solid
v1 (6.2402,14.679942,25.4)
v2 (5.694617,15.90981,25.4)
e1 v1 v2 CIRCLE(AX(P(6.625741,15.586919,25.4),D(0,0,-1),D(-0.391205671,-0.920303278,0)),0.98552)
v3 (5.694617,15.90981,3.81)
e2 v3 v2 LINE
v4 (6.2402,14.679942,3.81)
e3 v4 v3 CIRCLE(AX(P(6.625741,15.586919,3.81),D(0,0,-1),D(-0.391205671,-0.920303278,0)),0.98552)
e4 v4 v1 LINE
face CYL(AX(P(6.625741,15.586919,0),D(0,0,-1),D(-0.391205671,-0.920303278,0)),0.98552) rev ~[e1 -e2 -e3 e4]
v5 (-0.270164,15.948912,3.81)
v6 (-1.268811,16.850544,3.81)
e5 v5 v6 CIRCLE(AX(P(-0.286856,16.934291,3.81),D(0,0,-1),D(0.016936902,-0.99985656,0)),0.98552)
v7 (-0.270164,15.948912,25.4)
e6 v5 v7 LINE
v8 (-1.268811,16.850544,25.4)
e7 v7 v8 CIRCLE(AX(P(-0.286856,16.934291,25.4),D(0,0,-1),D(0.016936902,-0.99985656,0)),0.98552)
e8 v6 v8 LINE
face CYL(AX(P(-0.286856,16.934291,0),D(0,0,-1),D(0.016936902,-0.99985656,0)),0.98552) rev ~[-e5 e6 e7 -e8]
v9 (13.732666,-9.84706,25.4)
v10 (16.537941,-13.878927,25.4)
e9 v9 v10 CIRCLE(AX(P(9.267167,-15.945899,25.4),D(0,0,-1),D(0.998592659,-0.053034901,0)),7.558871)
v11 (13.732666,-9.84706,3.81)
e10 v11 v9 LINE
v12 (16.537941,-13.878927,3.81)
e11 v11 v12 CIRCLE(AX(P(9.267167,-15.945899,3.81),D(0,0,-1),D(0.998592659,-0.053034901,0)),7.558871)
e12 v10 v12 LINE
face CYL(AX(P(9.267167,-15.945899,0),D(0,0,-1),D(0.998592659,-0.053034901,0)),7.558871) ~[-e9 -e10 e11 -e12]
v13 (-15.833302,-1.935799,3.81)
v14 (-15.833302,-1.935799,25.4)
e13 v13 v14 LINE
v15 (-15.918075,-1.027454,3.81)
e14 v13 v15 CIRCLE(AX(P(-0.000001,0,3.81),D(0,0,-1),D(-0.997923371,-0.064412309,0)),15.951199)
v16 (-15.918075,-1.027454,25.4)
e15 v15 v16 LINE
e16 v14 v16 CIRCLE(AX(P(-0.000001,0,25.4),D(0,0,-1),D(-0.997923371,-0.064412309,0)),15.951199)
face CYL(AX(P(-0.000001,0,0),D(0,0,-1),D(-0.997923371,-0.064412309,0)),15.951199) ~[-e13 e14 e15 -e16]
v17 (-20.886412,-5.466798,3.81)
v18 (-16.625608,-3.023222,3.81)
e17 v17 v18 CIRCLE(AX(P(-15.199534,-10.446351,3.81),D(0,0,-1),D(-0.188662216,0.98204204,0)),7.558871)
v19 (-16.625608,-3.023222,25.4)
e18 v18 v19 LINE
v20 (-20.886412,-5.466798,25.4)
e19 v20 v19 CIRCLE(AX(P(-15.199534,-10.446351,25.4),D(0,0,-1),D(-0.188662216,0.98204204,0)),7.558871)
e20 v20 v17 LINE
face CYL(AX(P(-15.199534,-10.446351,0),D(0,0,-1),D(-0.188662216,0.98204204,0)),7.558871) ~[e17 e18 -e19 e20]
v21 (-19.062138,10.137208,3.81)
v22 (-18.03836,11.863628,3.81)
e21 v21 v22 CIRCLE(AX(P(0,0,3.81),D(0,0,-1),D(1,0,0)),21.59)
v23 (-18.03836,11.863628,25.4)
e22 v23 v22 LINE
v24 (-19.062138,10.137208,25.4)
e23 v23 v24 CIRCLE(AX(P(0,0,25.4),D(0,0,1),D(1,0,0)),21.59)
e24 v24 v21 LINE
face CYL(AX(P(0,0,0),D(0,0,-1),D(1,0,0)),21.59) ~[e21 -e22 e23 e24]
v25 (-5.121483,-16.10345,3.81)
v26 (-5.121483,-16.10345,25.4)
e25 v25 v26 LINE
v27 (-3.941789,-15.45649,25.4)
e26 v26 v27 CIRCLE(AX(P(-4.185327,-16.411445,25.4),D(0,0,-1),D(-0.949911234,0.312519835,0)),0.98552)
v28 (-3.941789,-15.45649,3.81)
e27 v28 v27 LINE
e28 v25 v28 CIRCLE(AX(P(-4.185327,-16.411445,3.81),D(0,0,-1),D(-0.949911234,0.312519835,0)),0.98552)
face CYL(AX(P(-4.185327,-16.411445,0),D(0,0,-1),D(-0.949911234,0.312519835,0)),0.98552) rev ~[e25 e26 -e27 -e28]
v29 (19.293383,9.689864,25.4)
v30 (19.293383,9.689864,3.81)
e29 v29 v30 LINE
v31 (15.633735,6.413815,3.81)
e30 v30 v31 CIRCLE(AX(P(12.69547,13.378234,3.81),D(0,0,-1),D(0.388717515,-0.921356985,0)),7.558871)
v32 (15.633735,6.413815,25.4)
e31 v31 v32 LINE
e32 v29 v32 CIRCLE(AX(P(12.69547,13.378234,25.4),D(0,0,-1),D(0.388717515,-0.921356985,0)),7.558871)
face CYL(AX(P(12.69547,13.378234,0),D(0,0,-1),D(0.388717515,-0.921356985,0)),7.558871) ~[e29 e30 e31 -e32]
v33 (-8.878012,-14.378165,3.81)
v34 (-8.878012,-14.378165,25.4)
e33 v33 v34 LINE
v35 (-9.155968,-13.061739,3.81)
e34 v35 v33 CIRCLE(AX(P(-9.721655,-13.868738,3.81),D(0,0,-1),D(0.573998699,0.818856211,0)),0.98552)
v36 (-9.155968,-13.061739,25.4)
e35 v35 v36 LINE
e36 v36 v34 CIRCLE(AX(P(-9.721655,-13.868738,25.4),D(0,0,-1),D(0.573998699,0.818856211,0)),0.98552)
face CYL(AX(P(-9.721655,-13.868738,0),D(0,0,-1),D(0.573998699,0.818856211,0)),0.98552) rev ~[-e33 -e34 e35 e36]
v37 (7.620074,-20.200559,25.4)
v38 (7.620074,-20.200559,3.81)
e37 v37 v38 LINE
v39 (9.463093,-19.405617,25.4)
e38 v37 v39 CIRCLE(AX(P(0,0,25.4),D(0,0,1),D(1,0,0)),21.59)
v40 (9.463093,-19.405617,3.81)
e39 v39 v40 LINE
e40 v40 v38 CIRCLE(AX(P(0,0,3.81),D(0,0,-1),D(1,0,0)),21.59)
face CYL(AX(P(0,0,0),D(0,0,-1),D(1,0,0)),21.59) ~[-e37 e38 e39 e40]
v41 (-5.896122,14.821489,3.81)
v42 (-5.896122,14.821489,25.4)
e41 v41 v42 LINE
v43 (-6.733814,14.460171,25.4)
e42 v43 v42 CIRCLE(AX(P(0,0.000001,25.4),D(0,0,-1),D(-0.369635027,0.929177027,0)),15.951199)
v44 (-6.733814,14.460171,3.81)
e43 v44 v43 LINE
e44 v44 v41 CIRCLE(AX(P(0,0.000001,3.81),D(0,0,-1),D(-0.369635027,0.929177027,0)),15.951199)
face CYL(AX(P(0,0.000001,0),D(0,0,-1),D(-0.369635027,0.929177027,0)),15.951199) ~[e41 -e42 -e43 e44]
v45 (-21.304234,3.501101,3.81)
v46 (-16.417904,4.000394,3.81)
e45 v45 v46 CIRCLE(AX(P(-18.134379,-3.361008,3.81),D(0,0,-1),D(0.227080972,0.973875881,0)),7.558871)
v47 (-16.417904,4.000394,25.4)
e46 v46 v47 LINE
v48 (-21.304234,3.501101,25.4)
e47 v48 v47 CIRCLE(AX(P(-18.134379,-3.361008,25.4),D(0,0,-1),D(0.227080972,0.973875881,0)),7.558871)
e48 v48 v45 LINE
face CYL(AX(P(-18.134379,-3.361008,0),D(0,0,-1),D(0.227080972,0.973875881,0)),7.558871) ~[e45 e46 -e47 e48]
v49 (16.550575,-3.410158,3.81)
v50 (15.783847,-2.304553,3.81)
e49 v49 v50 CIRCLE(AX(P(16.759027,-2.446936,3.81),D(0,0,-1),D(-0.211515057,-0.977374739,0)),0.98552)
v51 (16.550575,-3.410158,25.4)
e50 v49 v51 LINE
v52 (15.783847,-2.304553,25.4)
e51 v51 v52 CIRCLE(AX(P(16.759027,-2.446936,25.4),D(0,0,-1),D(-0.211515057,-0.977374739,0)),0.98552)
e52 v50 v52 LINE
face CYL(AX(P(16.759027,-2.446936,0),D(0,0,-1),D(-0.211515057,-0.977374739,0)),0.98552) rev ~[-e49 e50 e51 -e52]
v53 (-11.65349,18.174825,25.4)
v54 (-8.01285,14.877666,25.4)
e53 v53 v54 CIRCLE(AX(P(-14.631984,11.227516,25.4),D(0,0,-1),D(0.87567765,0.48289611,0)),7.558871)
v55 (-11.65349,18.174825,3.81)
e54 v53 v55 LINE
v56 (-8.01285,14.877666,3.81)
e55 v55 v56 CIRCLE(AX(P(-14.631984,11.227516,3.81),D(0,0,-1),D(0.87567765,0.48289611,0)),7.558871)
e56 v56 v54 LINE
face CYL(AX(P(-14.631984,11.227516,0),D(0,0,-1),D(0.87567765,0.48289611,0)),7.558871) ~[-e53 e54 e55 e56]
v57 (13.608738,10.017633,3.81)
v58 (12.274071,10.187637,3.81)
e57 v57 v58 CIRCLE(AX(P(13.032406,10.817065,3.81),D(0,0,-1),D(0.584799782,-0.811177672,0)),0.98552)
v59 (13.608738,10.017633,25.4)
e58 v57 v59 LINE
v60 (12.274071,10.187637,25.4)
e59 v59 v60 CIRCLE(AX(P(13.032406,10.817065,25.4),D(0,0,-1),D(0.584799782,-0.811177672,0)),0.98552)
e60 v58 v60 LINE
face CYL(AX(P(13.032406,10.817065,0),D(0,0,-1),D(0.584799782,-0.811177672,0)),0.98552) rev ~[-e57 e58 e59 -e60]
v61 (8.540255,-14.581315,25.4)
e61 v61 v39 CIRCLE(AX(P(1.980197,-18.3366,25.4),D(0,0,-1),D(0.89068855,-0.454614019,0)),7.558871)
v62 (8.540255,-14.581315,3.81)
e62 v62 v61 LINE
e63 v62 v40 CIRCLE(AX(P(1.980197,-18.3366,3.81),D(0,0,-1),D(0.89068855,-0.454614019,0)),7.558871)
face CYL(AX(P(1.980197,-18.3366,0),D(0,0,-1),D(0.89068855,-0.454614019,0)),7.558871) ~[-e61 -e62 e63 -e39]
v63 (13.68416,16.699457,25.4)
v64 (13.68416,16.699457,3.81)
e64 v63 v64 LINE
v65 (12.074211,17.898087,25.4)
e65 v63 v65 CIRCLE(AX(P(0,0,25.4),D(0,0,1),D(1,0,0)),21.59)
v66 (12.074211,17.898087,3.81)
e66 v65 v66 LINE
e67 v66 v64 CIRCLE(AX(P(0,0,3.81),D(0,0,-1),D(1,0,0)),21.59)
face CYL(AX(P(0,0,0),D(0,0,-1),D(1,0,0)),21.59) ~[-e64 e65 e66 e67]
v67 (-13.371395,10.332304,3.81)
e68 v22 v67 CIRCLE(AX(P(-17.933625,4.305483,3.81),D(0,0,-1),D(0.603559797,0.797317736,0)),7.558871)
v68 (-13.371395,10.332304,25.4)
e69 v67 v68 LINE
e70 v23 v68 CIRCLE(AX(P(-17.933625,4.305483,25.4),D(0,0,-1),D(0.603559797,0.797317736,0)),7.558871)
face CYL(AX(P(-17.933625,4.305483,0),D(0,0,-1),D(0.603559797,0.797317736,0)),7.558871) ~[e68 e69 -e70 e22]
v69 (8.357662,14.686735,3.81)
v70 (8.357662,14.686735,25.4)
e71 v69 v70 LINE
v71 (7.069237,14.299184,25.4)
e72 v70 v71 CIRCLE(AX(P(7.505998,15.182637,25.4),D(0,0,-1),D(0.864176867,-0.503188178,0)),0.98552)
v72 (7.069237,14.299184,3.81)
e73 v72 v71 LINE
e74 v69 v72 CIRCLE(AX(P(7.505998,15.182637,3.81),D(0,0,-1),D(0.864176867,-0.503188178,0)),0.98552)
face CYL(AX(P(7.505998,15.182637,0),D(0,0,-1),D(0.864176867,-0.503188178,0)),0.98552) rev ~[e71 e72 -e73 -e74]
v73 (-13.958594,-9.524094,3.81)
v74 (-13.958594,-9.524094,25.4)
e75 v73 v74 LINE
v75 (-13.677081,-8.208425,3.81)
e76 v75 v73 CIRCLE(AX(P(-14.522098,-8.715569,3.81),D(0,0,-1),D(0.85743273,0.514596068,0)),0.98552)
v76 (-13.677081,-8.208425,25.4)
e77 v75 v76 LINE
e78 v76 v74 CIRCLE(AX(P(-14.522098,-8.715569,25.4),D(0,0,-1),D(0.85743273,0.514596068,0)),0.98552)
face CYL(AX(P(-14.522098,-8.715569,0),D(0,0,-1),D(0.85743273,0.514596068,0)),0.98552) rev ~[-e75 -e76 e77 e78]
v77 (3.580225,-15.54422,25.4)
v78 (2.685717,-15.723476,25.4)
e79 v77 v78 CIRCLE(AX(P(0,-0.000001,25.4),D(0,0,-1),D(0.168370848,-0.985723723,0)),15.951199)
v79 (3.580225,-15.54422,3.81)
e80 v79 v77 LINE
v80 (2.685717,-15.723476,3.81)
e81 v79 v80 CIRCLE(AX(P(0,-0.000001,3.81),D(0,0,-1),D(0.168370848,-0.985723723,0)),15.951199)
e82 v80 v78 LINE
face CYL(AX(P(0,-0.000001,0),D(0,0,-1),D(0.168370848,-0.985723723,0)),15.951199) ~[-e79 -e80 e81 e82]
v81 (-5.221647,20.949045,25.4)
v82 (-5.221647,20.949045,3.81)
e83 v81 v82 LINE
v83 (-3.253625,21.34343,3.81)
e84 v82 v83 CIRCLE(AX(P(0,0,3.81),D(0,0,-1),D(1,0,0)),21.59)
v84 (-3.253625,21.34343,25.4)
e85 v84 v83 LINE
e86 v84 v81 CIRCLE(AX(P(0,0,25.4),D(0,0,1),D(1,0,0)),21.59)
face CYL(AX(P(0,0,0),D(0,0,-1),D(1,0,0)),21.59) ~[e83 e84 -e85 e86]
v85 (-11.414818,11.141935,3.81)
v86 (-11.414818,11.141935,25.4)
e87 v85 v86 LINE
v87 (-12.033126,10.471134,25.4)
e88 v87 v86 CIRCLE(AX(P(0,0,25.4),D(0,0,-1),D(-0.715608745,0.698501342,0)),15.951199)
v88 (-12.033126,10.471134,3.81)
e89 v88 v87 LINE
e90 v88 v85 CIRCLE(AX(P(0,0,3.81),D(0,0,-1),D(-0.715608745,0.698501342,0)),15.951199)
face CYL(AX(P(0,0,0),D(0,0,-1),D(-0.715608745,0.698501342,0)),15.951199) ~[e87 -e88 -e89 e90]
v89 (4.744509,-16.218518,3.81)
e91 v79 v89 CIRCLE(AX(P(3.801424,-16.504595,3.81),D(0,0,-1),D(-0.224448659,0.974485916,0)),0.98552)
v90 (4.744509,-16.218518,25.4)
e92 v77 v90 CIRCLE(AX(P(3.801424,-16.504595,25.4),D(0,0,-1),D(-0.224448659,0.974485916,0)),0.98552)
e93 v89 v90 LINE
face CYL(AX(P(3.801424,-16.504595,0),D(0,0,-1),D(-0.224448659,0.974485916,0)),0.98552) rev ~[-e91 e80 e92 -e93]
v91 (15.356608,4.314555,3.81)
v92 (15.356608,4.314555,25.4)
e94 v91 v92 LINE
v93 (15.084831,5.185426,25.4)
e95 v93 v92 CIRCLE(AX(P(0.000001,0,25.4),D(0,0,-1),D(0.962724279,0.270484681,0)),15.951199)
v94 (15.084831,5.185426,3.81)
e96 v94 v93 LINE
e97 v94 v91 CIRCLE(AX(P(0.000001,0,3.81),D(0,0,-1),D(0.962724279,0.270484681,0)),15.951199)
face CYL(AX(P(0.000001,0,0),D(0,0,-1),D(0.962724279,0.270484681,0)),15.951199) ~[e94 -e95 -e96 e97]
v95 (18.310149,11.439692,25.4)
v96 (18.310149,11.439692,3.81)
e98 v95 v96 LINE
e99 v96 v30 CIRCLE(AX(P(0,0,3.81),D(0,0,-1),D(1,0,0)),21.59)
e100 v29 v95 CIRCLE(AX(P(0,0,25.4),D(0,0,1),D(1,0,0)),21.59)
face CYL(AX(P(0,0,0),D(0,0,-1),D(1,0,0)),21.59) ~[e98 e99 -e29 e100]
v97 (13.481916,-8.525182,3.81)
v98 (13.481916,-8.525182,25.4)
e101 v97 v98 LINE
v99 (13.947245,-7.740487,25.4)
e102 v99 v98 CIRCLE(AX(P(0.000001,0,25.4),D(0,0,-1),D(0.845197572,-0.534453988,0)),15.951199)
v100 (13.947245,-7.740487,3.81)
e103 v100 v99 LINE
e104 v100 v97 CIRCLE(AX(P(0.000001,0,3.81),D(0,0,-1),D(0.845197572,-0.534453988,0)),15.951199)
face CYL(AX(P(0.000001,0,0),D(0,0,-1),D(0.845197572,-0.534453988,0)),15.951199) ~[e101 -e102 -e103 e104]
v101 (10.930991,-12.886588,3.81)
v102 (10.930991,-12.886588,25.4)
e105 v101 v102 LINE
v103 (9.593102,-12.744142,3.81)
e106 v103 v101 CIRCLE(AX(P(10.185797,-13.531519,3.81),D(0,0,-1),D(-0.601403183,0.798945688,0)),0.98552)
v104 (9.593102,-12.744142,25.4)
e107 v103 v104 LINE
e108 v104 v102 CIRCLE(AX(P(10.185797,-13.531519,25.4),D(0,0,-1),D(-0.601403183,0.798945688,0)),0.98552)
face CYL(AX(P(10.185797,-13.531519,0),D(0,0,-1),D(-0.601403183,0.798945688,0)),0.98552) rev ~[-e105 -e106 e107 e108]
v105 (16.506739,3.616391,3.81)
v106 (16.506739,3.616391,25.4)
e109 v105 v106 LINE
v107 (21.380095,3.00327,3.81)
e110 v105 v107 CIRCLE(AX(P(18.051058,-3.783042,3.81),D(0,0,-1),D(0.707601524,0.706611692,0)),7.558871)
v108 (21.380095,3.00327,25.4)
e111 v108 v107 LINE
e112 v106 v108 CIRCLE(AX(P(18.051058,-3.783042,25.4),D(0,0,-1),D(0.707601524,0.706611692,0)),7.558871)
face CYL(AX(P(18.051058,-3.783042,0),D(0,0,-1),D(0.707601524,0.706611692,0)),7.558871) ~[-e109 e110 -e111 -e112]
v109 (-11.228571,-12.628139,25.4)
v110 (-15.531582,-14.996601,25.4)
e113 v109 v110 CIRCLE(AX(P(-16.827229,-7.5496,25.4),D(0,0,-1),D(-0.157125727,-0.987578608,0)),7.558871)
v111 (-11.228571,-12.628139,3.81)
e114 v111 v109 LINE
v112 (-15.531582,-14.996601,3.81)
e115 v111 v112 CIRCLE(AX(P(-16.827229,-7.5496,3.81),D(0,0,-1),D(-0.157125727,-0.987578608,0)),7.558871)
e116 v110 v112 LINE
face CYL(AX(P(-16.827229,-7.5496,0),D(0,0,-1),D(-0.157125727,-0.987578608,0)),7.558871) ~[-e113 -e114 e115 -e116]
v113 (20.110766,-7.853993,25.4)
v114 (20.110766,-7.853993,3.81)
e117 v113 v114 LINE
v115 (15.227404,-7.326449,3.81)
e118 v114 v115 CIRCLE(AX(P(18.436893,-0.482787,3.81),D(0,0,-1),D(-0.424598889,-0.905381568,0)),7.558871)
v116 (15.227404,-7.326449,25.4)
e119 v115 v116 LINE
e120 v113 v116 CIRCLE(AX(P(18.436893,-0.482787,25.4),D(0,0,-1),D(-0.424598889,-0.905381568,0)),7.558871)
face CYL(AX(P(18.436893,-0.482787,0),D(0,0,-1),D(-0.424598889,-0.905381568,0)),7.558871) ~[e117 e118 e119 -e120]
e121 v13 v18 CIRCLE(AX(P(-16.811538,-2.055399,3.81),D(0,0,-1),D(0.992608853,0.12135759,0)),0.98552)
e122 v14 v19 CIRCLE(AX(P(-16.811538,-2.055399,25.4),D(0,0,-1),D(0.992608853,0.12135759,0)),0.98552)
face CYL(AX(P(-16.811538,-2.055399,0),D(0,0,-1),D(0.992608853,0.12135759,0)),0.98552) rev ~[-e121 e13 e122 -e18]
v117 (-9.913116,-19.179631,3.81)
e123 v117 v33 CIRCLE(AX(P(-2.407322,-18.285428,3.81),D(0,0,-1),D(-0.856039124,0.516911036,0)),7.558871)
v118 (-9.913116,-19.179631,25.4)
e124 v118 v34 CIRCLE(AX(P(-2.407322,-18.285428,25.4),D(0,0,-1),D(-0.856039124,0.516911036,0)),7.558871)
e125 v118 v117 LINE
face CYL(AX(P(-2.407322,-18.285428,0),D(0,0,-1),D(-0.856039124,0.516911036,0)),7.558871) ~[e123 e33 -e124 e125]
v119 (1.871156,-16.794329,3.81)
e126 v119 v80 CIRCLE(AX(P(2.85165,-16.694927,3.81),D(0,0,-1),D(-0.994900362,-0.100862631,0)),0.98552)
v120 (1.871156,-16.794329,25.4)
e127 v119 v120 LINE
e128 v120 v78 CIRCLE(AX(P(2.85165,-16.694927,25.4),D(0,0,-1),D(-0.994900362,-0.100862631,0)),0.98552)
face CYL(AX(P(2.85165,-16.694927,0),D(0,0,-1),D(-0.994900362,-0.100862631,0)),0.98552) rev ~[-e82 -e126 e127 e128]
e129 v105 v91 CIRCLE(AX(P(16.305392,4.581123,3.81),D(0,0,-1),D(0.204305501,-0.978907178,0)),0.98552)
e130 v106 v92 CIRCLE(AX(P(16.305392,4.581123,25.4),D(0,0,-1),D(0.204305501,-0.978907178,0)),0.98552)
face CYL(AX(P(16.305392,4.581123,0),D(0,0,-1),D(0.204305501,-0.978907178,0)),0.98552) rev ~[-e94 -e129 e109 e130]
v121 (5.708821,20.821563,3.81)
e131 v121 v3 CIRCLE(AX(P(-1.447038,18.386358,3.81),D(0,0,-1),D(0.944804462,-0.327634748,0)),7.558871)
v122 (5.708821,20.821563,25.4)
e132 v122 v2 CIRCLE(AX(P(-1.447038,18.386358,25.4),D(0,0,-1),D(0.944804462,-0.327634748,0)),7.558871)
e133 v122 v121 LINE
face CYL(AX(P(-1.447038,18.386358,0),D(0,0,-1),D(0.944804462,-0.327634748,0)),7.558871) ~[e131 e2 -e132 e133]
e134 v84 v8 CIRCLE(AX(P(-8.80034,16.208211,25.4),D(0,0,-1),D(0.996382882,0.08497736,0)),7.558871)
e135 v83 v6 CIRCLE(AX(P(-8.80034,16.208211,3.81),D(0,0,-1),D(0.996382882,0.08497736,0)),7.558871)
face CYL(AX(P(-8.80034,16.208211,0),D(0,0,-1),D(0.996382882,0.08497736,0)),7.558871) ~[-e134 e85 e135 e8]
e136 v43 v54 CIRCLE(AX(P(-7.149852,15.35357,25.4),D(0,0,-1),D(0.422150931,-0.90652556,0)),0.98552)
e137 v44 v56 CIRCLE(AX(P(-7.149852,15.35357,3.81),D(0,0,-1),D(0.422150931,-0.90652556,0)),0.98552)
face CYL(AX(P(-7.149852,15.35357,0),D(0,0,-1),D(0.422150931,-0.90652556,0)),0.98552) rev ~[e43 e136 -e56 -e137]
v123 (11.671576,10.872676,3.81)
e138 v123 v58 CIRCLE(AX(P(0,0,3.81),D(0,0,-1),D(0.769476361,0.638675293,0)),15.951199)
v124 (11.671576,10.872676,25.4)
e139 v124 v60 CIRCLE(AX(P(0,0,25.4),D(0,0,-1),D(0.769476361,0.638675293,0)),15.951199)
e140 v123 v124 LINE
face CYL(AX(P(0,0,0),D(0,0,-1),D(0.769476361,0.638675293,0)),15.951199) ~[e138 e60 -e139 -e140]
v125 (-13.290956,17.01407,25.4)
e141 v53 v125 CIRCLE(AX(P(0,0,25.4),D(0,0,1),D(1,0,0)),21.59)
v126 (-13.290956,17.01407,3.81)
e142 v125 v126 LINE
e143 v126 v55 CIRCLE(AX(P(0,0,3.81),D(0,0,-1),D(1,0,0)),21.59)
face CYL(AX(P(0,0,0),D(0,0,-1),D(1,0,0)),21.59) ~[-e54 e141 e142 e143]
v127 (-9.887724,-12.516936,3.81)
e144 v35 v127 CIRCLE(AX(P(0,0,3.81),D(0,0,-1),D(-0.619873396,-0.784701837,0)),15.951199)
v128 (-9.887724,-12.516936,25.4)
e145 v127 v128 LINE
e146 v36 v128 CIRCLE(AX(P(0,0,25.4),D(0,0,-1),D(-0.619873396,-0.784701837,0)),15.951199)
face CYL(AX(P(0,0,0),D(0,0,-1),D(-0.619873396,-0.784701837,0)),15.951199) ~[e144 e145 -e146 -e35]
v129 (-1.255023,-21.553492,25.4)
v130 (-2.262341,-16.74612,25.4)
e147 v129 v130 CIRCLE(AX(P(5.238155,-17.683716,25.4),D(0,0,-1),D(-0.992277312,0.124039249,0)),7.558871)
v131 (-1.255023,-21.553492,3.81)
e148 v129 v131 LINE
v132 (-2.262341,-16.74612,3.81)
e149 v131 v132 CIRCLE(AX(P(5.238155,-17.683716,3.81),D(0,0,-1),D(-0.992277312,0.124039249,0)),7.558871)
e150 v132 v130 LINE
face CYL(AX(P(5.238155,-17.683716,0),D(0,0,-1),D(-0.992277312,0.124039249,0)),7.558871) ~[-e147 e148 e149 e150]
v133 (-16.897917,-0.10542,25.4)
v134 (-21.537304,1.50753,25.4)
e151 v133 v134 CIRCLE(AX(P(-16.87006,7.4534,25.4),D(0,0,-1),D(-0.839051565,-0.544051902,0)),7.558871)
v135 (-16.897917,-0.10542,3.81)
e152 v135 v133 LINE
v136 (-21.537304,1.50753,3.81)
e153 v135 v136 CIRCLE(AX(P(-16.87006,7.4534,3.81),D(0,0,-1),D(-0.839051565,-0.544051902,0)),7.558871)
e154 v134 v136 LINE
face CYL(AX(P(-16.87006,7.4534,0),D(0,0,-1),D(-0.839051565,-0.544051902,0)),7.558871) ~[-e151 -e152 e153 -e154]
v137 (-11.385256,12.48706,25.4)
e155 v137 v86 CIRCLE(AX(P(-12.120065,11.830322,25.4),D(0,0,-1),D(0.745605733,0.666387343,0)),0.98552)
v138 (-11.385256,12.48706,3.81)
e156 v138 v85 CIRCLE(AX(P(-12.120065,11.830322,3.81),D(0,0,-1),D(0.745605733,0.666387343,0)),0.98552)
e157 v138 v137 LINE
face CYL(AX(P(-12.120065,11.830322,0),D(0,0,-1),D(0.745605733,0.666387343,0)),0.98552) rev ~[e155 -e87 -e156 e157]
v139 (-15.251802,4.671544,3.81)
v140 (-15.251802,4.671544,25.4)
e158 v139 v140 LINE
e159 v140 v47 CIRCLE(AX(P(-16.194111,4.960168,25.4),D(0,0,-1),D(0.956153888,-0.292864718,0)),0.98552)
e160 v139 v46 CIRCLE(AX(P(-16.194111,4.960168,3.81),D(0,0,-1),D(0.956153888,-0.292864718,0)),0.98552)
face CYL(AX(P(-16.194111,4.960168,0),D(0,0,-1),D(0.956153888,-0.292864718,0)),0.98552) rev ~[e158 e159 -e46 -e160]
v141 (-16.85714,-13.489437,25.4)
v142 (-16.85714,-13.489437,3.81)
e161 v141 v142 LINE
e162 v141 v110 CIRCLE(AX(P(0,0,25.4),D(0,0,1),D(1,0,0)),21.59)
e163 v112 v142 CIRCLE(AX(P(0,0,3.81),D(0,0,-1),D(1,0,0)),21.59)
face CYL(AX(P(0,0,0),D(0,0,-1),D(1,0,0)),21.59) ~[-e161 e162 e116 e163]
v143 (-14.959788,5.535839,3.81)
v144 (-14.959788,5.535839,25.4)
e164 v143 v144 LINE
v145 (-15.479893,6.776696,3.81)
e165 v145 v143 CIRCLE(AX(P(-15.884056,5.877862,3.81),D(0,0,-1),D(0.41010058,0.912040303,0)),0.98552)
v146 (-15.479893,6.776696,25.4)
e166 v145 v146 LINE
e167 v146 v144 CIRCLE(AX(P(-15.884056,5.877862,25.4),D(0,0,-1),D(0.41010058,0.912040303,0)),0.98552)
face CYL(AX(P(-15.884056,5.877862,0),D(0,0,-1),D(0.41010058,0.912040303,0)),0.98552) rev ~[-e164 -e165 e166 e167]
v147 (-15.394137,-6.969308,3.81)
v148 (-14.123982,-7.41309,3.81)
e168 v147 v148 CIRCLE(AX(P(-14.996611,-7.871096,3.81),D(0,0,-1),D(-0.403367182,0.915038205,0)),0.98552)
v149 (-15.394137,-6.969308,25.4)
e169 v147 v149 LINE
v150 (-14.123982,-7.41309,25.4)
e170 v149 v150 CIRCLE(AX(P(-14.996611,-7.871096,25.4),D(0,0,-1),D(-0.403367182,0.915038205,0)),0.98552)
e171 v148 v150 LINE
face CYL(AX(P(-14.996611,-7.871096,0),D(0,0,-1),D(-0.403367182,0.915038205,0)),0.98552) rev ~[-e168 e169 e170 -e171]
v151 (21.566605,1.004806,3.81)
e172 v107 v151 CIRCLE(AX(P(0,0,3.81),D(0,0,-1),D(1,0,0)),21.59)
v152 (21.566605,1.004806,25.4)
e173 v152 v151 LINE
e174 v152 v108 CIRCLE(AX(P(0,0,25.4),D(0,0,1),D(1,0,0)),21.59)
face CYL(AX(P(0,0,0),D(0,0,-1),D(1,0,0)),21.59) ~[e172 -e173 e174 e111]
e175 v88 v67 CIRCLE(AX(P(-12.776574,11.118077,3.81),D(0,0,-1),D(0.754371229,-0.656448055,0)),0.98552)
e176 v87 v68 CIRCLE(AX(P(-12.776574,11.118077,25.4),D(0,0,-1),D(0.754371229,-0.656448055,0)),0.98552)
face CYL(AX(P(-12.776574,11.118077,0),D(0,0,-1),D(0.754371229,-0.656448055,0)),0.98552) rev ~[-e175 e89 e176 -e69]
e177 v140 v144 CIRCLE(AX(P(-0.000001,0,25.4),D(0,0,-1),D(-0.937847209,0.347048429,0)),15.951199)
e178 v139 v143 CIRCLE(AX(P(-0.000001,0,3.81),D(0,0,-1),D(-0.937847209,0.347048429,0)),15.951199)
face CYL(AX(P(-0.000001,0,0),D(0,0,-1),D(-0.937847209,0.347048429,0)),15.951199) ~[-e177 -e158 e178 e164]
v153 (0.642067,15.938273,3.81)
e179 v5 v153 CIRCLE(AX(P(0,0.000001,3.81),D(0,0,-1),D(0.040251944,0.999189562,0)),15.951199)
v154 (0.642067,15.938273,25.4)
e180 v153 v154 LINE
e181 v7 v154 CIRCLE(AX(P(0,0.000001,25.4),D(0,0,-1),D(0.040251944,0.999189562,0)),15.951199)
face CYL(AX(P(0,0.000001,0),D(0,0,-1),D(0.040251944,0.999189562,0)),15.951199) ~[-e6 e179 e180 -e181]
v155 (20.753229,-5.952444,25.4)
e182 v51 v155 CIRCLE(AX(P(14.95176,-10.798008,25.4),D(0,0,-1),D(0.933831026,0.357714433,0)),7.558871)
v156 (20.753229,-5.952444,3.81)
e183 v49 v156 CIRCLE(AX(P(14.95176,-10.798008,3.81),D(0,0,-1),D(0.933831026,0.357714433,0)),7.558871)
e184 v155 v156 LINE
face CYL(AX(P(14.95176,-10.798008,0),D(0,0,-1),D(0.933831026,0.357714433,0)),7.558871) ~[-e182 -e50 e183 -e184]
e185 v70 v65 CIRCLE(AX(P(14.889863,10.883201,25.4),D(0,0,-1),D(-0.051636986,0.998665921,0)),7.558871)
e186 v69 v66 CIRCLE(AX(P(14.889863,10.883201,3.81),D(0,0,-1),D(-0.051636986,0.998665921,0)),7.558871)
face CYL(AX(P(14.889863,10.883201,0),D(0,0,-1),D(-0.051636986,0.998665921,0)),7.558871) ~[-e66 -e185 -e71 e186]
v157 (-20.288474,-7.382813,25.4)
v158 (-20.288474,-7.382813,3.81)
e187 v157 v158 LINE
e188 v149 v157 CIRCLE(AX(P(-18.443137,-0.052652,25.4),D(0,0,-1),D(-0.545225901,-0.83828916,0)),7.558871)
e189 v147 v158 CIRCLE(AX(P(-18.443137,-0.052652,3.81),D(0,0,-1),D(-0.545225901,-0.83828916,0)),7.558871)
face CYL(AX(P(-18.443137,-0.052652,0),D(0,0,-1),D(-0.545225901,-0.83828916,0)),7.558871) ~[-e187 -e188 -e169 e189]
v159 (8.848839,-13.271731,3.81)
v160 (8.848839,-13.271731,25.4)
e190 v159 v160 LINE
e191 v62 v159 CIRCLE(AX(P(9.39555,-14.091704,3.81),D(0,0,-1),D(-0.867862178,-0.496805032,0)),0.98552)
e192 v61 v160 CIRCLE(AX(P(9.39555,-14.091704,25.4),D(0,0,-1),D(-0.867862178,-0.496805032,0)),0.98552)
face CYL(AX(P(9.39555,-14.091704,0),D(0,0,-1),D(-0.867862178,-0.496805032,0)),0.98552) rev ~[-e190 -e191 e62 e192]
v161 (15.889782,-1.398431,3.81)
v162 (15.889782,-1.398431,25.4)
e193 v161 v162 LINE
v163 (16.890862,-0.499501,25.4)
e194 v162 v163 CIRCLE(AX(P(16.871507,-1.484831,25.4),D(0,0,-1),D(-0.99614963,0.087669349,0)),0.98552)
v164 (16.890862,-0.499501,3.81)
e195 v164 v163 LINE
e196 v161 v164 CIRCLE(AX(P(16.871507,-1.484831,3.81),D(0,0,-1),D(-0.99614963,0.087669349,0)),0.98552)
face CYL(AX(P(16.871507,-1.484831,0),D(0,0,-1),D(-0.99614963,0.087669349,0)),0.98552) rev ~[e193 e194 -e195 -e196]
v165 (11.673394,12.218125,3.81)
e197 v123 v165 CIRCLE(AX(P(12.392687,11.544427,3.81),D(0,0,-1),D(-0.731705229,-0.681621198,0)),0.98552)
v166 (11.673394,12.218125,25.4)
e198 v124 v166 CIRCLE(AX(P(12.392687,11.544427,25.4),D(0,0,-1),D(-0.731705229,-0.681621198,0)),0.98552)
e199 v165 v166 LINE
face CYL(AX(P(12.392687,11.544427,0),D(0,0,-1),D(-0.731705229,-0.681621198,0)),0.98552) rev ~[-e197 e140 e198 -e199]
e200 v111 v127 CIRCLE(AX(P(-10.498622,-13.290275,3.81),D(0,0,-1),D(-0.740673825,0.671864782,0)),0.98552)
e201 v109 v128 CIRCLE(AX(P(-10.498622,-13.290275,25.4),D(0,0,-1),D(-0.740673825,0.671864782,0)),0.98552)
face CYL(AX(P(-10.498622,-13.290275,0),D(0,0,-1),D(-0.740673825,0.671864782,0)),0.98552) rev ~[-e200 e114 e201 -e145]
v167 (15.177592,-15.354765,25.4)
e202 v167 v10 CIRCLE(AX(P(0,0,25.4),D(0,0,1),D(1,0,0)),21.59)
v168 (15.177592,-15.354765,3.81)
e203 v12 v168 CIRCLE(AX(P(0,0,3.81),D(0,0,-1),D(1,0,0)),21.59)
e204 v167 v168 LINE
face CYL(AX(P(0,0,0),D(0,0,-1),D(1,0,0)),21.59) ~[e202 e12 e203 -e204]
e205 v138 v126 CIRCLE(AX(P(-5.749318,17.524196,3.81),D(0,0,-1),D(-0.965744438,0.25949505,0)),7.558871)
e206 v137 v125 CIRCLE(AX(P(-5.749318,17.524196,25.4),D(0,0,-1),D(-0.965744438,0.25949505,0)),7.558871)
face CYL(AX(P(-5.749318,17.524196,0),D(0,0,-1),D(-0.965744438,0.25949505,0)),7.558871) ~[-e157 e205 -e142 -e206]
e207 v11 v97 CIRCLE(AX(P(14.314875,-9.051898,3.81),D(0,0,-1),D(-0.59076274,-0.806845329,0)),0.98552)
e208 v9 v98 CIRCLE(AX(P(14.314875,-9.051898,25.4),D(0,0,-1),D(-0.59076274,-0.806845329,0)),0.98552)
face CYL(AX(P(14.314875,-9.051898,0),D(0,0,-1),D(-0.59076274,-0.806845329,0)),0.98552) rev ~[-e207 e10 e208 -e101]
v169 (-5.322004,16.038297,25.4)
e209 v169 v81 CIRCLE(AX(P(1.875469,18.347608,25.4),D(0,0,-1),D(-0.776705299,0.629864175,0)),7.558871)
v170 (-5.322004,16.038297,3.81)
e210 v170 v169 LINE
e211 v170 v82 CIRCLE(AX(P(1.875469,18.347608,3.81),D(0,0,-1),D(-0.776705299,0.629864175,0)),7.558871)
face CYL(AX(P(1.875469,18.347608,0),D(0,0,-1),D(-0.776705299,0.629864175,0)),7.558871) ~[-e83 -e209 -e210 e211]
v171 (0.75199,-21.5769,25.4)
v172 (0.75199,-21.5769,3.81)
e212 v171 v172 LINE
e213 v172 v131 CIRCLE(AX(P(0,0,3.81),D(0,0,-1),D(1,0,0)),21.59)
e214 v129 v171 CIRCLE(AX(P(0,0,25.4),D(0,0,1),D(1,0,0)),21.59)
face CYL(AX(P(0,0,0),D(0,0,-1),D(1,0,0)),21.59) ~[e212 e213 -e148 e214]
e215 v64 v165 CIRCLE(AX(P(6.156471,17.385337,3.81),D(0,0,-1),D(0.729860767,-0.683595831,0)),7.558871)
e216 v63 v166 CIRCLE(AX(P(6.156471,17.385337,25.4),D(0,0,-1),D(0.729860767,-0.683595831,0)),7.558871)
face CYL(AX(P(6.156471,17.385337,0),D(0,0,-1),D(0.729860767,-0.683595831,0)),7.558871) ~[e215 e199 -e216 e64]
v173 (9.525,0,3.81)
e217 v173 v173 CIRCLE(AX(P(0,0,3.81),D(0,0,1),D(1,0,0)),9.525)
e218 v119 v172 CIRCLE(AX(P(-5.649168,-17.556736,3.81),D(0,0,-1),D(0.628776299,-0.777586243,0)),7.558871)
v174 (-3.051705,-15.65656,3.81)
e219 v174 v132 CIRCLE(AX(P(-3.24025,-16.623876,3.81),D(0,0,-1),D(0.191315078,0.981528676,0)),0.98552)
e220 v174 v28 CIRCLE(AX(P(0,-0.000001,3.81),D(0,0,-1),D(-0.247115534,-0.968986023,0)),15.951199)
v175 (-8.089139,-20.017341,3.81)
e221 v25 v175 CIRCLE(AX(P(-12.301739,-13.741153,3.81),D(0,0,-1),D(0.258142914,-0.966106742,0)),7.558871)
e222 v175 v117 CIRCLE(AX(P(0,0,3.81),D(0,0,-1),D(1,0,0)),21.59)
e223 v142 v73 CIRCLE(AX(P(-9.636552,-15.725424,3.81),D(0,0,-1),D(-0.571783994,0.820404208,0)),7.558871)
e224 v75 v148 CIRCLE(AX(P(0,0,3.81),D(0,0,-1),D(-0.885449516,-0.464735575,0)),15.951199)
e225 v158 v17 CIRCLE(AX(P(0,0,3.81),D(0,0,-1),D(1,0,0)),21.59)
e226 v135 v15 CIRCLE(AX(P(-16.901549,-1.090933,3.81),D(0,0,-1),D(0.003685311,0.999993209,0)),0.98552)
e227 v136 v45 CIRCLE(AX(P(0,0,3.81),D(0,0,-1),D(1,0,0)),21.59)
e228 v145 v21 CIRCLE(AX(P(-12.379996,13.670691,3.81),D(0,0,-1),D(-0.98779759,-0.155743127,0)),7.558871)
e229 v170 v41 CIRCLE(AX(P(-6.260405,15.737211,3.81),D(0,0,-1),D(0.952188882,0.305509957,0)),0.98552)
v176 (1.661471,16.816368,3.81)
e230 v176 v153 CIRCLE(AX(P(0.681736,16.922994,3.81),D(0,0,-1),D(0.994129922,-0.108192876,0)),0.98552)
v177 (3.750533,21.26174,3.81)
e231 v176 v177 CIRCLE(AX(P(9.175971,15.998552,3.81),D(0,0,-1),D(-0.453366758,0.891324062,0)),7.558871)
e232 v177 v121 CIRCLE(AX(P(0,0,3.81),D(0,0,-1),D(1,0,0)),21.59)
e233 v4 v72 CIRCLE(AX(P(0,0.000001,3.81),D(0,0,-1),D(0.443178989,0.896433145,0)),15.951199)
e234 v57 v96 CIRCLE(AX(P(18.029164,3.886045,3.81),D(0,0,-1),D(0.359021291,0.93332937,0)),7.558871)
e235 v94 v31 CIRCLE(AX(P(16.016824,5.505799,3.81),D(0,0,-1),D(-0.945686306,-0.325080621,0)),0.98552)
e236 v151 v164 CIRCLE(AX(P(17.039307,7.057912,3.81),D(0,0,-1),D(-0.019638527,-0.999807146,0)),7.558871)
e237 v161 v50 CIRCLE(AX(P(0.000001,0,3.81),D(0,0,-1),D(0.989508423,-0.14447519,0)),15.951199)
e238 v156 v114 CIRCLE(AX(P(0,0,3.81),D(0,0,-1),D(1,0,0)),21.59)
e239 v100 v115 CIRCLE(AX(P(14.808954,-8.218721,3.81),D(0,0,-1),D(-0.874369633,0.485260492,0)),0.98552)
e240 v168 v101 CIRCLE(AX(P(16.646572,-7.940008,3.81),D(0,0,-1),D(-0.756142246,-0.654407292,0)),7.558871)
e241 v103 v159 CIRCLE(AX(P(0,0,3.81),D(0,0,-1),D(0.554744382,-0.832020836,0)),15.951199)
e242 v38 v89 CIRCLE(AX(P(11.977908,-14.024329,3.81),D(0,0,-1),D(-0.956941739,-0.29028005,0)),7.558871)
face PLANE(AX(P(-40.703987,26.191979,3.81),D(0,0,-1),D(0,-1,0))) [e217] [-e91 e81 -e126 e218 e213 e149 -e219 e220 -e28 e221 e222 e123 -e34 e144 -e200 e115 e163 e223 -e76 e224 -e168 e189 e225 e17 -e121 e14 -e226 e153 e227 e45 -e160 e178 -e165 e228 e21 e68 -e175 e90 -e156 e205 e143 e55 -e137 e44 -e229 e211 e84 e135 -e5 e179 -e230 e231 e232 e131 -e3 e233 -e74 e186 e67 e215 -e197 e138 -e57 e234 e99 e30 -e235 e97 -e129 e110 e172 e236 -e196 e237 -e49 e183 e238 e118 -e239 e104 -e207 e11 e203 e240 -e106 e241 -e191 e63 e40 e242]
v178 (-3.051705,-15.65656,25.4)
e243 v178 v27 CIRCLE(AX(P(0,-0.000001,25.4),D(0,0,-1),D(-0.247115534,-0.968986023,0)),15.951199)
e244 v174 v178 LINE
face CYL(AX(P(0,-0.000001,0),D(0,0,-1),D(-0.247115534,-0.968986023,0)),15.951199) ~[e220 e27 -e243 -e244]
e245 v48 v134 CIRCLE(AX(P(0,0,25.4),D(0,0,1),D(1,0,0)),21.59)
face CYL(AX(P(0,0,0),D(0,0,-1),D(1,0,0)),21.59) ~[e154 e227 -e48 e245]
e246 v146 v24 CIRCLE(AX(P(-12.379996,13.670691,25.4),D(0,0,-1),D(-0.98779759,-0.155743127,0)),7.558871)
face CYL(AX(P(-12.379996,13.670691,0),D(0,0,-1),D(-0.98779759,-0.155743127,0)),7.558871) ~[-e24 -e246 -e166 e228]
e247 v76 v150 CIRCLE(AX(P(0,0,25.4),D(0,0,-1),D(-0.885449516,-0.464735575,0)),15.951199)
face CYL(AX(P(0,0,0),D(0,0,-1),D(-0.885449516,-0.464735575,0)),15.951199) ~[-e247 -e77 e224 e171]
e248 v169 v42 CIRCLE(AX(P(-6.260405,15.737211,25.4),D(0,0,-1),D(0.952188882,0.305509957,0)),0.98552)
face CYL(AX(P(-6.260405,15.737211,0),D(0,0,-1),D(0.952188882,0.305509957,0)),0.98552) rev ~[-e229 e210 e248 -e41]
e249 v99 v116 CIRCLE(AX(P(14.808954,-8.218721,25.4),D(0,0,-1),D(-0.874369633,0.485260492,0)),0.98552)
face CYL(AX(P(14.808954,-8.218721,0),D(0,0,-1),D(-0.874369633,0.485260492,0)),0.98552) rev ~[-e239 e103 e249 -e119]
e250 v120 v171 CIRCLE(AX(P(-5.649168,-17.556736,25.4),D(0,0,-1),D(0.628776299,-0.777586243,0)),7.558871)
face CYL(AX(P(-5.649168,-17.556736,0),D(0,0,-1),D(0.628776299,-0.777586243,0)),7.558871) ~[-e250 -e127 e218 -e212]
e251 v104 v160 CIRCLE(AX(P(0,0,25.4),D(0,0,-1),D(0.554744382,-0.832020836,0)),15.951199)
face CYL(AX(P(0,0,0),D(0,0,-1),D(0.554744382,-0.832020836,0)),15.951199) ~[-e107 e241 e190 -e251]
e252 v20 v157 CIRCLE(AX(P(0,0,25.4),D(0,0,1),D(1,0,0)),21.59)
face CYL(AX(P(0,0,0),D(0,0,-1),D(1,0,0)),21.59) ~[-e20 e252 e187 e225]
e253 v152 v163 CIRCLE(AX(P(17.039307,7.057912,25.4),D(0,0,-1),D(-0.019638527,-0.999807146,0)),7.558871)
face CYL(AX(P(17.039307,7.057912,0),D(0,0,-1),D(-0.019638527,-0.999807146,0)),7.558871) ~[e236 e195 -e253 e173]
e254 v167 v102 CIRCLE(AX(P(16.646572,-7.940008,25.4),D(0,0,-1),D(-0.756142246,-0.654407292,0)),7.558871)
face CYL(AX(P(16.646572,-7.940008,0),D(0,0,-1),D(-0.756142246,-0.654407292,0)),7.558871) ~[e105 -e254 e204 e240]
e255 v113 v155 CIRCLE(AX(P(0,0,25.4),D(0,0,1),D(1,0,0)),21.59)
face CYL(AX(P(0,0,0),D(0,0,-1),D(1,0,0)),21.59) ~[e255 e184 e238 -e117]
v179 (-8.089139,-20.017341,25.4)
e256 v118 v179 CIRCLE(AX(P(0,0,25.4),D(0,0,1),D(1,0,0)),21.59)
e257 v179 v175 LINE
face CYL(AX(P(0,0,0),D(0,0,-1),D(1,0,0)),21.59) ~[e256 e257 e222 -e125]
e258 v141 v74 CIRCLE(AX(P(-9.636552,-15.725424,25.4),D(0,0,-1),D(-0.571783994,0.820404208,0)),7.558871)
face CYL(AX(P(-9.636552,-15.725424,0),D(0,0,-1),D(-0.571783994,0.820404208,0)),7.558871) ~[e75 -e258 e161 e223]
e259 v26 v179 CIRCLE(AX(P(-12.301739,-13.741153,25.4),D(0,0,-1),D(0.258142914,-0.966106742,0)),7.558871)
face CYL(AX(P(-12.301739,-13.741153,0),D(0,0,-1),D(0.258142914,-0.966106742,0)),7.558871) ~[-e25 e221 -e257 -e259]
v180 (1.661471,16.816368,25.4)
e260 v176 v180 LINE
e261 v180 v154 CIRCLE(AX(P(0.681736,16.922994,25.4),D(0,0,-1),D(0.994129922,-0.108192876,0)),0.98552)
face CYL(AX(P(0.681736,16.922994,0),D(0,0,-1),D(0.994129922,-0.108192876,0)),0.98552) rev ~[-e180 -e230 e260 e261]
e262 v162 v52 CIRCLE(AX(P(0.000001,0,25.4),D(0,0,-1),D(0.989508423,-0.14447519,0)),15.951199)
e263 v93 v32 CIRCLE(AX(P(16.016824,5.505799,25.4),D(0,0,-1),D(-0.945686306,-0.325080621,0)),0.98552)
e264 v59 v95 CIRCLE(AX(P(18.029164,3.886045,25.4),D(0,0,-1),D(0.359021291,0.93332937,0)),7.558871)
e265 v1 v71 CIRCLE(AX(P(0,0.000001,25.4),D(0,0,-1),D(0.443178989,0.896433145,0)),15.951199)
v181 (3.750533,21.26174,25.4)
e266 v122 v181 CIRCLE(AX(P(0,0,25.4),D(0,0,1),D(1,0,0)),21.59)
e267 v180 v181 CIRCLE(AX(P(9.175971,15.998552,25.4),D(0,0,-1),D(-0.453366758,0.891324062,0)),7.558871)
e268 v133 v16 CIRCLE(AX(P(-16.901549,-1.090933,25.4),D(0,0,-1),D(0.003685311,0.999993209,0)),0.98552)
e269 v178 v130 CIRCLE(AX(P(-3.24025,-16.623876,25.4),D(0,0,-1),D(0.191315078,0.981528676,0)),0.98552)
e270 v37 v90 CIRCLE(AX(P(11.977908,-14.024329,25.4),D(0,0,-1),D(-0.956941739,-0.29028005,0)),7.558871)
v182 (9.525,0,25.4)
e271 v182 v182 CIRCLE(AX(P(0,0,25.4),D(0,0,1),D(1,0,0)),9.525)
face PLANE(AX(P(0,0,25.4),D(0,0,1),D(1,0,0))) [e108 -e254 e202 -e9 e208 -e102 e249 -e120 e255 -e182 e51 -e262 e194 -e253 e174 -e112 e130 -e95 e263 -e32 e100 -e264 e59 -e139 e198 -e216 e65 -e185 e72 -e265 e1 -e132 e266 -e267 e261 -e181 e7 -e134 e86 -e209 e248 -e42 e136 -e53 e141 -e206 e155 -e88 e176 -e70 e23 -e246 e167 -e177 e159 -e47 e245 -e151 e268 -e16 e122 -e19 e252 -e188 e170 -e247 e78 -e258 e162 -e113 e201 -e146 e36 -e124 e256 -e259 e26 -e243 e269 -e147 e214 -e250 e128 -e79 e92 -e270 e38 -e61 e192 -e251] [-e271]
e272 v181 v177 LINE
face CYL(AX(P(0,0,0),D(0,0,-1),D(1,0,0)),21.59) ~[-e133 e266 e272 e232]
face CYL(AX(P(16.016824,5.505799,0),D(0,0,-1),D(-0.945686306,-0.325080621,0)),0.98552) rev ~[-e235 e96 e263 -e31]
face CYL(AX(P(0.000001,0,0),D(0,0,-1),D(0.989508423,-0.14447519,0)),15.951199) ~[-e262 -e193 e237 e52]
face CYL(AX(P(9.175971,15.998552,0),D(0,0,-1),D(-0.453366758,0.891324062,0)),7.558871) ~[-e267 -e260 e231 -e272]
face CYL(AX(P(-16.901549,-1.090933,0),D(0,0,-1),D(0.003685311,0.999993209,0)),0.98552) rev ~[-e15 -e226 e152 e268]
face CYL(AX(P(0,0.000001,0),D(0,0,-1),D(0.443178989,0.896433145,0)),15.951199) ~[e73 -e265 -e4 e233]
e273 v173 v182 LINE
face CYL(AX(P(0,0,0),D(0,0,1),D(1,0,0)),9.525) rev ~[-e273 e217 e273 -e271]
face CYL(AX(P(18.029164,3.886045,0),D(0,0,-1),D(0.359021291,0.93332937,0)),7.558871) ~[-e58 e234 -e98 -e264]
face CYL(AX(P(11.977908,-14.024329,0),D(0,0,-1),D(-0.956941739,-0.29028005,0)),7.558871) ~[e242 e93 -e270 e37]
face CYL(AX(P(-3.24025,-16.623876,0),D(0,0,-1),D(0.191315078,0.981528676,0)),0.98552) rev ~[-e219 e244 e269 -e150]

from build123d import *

# Parameters (mm, degrees)
SKETCH3_R               = 21.59
GEARBODY_DEPTH          = 25.4
TOOTHCUT_DEPTH          = 40.716699259
CIRPATTERN1_COUNT       = 15
BOREDIA_R               = 9.525
BORE_DEPTH              = 12700
CUT_EXTRUDE1_DEPTH      = 40.703986775
CUT_EXTRUDE1_DEPTH_BACK = 40.703986775


with BuildPart() as part:
    # Sketch3 → gearBody (new body)
    with BuildSketch(Plane.XY):
        Circle(SKETCH3_R)
    extrude(amount=GEARBODY_DEPTH)

    # Sketch2 → toothCut (cut, through all)
    with BuildSketch(Plane.XY):
        with BuildLine():
            ThreePointArc((15.783846764, -2.304552616), (15.843293638, -1.852249483), (15.889781974, -1.39843136))
            ThreePointArc((15.889781974, -1.39843136), (16.213055843, -0.751556907), (16.890861518, -0.499501321))
            ThreePointArc((16.890861518, -0.499501321), (20.504912911, 0.340315353), (23.283949955, 2.798691365))
            ThreePointArc((23.283949955, 2.798691365), (23.292901215, -2.723187818), (22.010467945, -8.09409042))
            ThreePointArc((22.010467945, -8.09409042), (19.873444675, -5.060974685), (16.550574786, -3.410158156))
            ThreePointArc((16.550574786, -3.410158156), (15.949189176, -3.008551507), (15.783846764, -2.304552616))
        make_face()
    toothcut = extrude(amount=TOOTHCUT_DEPTH, mode=Mode.SUBTRACT)

    # CirPattern1: toothCut ×15 about axis
    cirpattern1_axis = Axis((0, 0, 0), (0, 0, 1))
    for i in range(1, CIRPATTERN1_COUNT):
        add(toothcut.rotate(cirpattern1_axis, i * 360 / CIRPATTERN1_COUNT), mode=Mode.SUBTRACT)

    # boreDia → bore (cut, symmetric)
    with BuildSketch(Plane.XY):
        Circle(BOREDIA_R)
    extrude(amount=BORE_DEPTH, both=True, mode=Mode.SUBTRACT)

    # Sketch4 → Cut-Extrude1 (cut, two sides: drawn at the far end of the back side and taken through both)
    with BuildSketch(Plane(origin=(0, 0, 0), x_dir=(0, 0, -1), z_dir=(1, 0, 0)).offset(-CUT_EXTRUDE1_DEPTH_BACK)):
        Polygon((-3.81, 26.191979423), (-3.81, -31.870423863), (6.096210589, -32.468383172), (8.920928288, 23.481458771), align=None)
    extrude(amount=CUT_EXTRUDE1_DEPTH + CUT_EXTRUDE1_DEPTH_BACK, mode=Mode.SUBTRACT)


solid = part.part
